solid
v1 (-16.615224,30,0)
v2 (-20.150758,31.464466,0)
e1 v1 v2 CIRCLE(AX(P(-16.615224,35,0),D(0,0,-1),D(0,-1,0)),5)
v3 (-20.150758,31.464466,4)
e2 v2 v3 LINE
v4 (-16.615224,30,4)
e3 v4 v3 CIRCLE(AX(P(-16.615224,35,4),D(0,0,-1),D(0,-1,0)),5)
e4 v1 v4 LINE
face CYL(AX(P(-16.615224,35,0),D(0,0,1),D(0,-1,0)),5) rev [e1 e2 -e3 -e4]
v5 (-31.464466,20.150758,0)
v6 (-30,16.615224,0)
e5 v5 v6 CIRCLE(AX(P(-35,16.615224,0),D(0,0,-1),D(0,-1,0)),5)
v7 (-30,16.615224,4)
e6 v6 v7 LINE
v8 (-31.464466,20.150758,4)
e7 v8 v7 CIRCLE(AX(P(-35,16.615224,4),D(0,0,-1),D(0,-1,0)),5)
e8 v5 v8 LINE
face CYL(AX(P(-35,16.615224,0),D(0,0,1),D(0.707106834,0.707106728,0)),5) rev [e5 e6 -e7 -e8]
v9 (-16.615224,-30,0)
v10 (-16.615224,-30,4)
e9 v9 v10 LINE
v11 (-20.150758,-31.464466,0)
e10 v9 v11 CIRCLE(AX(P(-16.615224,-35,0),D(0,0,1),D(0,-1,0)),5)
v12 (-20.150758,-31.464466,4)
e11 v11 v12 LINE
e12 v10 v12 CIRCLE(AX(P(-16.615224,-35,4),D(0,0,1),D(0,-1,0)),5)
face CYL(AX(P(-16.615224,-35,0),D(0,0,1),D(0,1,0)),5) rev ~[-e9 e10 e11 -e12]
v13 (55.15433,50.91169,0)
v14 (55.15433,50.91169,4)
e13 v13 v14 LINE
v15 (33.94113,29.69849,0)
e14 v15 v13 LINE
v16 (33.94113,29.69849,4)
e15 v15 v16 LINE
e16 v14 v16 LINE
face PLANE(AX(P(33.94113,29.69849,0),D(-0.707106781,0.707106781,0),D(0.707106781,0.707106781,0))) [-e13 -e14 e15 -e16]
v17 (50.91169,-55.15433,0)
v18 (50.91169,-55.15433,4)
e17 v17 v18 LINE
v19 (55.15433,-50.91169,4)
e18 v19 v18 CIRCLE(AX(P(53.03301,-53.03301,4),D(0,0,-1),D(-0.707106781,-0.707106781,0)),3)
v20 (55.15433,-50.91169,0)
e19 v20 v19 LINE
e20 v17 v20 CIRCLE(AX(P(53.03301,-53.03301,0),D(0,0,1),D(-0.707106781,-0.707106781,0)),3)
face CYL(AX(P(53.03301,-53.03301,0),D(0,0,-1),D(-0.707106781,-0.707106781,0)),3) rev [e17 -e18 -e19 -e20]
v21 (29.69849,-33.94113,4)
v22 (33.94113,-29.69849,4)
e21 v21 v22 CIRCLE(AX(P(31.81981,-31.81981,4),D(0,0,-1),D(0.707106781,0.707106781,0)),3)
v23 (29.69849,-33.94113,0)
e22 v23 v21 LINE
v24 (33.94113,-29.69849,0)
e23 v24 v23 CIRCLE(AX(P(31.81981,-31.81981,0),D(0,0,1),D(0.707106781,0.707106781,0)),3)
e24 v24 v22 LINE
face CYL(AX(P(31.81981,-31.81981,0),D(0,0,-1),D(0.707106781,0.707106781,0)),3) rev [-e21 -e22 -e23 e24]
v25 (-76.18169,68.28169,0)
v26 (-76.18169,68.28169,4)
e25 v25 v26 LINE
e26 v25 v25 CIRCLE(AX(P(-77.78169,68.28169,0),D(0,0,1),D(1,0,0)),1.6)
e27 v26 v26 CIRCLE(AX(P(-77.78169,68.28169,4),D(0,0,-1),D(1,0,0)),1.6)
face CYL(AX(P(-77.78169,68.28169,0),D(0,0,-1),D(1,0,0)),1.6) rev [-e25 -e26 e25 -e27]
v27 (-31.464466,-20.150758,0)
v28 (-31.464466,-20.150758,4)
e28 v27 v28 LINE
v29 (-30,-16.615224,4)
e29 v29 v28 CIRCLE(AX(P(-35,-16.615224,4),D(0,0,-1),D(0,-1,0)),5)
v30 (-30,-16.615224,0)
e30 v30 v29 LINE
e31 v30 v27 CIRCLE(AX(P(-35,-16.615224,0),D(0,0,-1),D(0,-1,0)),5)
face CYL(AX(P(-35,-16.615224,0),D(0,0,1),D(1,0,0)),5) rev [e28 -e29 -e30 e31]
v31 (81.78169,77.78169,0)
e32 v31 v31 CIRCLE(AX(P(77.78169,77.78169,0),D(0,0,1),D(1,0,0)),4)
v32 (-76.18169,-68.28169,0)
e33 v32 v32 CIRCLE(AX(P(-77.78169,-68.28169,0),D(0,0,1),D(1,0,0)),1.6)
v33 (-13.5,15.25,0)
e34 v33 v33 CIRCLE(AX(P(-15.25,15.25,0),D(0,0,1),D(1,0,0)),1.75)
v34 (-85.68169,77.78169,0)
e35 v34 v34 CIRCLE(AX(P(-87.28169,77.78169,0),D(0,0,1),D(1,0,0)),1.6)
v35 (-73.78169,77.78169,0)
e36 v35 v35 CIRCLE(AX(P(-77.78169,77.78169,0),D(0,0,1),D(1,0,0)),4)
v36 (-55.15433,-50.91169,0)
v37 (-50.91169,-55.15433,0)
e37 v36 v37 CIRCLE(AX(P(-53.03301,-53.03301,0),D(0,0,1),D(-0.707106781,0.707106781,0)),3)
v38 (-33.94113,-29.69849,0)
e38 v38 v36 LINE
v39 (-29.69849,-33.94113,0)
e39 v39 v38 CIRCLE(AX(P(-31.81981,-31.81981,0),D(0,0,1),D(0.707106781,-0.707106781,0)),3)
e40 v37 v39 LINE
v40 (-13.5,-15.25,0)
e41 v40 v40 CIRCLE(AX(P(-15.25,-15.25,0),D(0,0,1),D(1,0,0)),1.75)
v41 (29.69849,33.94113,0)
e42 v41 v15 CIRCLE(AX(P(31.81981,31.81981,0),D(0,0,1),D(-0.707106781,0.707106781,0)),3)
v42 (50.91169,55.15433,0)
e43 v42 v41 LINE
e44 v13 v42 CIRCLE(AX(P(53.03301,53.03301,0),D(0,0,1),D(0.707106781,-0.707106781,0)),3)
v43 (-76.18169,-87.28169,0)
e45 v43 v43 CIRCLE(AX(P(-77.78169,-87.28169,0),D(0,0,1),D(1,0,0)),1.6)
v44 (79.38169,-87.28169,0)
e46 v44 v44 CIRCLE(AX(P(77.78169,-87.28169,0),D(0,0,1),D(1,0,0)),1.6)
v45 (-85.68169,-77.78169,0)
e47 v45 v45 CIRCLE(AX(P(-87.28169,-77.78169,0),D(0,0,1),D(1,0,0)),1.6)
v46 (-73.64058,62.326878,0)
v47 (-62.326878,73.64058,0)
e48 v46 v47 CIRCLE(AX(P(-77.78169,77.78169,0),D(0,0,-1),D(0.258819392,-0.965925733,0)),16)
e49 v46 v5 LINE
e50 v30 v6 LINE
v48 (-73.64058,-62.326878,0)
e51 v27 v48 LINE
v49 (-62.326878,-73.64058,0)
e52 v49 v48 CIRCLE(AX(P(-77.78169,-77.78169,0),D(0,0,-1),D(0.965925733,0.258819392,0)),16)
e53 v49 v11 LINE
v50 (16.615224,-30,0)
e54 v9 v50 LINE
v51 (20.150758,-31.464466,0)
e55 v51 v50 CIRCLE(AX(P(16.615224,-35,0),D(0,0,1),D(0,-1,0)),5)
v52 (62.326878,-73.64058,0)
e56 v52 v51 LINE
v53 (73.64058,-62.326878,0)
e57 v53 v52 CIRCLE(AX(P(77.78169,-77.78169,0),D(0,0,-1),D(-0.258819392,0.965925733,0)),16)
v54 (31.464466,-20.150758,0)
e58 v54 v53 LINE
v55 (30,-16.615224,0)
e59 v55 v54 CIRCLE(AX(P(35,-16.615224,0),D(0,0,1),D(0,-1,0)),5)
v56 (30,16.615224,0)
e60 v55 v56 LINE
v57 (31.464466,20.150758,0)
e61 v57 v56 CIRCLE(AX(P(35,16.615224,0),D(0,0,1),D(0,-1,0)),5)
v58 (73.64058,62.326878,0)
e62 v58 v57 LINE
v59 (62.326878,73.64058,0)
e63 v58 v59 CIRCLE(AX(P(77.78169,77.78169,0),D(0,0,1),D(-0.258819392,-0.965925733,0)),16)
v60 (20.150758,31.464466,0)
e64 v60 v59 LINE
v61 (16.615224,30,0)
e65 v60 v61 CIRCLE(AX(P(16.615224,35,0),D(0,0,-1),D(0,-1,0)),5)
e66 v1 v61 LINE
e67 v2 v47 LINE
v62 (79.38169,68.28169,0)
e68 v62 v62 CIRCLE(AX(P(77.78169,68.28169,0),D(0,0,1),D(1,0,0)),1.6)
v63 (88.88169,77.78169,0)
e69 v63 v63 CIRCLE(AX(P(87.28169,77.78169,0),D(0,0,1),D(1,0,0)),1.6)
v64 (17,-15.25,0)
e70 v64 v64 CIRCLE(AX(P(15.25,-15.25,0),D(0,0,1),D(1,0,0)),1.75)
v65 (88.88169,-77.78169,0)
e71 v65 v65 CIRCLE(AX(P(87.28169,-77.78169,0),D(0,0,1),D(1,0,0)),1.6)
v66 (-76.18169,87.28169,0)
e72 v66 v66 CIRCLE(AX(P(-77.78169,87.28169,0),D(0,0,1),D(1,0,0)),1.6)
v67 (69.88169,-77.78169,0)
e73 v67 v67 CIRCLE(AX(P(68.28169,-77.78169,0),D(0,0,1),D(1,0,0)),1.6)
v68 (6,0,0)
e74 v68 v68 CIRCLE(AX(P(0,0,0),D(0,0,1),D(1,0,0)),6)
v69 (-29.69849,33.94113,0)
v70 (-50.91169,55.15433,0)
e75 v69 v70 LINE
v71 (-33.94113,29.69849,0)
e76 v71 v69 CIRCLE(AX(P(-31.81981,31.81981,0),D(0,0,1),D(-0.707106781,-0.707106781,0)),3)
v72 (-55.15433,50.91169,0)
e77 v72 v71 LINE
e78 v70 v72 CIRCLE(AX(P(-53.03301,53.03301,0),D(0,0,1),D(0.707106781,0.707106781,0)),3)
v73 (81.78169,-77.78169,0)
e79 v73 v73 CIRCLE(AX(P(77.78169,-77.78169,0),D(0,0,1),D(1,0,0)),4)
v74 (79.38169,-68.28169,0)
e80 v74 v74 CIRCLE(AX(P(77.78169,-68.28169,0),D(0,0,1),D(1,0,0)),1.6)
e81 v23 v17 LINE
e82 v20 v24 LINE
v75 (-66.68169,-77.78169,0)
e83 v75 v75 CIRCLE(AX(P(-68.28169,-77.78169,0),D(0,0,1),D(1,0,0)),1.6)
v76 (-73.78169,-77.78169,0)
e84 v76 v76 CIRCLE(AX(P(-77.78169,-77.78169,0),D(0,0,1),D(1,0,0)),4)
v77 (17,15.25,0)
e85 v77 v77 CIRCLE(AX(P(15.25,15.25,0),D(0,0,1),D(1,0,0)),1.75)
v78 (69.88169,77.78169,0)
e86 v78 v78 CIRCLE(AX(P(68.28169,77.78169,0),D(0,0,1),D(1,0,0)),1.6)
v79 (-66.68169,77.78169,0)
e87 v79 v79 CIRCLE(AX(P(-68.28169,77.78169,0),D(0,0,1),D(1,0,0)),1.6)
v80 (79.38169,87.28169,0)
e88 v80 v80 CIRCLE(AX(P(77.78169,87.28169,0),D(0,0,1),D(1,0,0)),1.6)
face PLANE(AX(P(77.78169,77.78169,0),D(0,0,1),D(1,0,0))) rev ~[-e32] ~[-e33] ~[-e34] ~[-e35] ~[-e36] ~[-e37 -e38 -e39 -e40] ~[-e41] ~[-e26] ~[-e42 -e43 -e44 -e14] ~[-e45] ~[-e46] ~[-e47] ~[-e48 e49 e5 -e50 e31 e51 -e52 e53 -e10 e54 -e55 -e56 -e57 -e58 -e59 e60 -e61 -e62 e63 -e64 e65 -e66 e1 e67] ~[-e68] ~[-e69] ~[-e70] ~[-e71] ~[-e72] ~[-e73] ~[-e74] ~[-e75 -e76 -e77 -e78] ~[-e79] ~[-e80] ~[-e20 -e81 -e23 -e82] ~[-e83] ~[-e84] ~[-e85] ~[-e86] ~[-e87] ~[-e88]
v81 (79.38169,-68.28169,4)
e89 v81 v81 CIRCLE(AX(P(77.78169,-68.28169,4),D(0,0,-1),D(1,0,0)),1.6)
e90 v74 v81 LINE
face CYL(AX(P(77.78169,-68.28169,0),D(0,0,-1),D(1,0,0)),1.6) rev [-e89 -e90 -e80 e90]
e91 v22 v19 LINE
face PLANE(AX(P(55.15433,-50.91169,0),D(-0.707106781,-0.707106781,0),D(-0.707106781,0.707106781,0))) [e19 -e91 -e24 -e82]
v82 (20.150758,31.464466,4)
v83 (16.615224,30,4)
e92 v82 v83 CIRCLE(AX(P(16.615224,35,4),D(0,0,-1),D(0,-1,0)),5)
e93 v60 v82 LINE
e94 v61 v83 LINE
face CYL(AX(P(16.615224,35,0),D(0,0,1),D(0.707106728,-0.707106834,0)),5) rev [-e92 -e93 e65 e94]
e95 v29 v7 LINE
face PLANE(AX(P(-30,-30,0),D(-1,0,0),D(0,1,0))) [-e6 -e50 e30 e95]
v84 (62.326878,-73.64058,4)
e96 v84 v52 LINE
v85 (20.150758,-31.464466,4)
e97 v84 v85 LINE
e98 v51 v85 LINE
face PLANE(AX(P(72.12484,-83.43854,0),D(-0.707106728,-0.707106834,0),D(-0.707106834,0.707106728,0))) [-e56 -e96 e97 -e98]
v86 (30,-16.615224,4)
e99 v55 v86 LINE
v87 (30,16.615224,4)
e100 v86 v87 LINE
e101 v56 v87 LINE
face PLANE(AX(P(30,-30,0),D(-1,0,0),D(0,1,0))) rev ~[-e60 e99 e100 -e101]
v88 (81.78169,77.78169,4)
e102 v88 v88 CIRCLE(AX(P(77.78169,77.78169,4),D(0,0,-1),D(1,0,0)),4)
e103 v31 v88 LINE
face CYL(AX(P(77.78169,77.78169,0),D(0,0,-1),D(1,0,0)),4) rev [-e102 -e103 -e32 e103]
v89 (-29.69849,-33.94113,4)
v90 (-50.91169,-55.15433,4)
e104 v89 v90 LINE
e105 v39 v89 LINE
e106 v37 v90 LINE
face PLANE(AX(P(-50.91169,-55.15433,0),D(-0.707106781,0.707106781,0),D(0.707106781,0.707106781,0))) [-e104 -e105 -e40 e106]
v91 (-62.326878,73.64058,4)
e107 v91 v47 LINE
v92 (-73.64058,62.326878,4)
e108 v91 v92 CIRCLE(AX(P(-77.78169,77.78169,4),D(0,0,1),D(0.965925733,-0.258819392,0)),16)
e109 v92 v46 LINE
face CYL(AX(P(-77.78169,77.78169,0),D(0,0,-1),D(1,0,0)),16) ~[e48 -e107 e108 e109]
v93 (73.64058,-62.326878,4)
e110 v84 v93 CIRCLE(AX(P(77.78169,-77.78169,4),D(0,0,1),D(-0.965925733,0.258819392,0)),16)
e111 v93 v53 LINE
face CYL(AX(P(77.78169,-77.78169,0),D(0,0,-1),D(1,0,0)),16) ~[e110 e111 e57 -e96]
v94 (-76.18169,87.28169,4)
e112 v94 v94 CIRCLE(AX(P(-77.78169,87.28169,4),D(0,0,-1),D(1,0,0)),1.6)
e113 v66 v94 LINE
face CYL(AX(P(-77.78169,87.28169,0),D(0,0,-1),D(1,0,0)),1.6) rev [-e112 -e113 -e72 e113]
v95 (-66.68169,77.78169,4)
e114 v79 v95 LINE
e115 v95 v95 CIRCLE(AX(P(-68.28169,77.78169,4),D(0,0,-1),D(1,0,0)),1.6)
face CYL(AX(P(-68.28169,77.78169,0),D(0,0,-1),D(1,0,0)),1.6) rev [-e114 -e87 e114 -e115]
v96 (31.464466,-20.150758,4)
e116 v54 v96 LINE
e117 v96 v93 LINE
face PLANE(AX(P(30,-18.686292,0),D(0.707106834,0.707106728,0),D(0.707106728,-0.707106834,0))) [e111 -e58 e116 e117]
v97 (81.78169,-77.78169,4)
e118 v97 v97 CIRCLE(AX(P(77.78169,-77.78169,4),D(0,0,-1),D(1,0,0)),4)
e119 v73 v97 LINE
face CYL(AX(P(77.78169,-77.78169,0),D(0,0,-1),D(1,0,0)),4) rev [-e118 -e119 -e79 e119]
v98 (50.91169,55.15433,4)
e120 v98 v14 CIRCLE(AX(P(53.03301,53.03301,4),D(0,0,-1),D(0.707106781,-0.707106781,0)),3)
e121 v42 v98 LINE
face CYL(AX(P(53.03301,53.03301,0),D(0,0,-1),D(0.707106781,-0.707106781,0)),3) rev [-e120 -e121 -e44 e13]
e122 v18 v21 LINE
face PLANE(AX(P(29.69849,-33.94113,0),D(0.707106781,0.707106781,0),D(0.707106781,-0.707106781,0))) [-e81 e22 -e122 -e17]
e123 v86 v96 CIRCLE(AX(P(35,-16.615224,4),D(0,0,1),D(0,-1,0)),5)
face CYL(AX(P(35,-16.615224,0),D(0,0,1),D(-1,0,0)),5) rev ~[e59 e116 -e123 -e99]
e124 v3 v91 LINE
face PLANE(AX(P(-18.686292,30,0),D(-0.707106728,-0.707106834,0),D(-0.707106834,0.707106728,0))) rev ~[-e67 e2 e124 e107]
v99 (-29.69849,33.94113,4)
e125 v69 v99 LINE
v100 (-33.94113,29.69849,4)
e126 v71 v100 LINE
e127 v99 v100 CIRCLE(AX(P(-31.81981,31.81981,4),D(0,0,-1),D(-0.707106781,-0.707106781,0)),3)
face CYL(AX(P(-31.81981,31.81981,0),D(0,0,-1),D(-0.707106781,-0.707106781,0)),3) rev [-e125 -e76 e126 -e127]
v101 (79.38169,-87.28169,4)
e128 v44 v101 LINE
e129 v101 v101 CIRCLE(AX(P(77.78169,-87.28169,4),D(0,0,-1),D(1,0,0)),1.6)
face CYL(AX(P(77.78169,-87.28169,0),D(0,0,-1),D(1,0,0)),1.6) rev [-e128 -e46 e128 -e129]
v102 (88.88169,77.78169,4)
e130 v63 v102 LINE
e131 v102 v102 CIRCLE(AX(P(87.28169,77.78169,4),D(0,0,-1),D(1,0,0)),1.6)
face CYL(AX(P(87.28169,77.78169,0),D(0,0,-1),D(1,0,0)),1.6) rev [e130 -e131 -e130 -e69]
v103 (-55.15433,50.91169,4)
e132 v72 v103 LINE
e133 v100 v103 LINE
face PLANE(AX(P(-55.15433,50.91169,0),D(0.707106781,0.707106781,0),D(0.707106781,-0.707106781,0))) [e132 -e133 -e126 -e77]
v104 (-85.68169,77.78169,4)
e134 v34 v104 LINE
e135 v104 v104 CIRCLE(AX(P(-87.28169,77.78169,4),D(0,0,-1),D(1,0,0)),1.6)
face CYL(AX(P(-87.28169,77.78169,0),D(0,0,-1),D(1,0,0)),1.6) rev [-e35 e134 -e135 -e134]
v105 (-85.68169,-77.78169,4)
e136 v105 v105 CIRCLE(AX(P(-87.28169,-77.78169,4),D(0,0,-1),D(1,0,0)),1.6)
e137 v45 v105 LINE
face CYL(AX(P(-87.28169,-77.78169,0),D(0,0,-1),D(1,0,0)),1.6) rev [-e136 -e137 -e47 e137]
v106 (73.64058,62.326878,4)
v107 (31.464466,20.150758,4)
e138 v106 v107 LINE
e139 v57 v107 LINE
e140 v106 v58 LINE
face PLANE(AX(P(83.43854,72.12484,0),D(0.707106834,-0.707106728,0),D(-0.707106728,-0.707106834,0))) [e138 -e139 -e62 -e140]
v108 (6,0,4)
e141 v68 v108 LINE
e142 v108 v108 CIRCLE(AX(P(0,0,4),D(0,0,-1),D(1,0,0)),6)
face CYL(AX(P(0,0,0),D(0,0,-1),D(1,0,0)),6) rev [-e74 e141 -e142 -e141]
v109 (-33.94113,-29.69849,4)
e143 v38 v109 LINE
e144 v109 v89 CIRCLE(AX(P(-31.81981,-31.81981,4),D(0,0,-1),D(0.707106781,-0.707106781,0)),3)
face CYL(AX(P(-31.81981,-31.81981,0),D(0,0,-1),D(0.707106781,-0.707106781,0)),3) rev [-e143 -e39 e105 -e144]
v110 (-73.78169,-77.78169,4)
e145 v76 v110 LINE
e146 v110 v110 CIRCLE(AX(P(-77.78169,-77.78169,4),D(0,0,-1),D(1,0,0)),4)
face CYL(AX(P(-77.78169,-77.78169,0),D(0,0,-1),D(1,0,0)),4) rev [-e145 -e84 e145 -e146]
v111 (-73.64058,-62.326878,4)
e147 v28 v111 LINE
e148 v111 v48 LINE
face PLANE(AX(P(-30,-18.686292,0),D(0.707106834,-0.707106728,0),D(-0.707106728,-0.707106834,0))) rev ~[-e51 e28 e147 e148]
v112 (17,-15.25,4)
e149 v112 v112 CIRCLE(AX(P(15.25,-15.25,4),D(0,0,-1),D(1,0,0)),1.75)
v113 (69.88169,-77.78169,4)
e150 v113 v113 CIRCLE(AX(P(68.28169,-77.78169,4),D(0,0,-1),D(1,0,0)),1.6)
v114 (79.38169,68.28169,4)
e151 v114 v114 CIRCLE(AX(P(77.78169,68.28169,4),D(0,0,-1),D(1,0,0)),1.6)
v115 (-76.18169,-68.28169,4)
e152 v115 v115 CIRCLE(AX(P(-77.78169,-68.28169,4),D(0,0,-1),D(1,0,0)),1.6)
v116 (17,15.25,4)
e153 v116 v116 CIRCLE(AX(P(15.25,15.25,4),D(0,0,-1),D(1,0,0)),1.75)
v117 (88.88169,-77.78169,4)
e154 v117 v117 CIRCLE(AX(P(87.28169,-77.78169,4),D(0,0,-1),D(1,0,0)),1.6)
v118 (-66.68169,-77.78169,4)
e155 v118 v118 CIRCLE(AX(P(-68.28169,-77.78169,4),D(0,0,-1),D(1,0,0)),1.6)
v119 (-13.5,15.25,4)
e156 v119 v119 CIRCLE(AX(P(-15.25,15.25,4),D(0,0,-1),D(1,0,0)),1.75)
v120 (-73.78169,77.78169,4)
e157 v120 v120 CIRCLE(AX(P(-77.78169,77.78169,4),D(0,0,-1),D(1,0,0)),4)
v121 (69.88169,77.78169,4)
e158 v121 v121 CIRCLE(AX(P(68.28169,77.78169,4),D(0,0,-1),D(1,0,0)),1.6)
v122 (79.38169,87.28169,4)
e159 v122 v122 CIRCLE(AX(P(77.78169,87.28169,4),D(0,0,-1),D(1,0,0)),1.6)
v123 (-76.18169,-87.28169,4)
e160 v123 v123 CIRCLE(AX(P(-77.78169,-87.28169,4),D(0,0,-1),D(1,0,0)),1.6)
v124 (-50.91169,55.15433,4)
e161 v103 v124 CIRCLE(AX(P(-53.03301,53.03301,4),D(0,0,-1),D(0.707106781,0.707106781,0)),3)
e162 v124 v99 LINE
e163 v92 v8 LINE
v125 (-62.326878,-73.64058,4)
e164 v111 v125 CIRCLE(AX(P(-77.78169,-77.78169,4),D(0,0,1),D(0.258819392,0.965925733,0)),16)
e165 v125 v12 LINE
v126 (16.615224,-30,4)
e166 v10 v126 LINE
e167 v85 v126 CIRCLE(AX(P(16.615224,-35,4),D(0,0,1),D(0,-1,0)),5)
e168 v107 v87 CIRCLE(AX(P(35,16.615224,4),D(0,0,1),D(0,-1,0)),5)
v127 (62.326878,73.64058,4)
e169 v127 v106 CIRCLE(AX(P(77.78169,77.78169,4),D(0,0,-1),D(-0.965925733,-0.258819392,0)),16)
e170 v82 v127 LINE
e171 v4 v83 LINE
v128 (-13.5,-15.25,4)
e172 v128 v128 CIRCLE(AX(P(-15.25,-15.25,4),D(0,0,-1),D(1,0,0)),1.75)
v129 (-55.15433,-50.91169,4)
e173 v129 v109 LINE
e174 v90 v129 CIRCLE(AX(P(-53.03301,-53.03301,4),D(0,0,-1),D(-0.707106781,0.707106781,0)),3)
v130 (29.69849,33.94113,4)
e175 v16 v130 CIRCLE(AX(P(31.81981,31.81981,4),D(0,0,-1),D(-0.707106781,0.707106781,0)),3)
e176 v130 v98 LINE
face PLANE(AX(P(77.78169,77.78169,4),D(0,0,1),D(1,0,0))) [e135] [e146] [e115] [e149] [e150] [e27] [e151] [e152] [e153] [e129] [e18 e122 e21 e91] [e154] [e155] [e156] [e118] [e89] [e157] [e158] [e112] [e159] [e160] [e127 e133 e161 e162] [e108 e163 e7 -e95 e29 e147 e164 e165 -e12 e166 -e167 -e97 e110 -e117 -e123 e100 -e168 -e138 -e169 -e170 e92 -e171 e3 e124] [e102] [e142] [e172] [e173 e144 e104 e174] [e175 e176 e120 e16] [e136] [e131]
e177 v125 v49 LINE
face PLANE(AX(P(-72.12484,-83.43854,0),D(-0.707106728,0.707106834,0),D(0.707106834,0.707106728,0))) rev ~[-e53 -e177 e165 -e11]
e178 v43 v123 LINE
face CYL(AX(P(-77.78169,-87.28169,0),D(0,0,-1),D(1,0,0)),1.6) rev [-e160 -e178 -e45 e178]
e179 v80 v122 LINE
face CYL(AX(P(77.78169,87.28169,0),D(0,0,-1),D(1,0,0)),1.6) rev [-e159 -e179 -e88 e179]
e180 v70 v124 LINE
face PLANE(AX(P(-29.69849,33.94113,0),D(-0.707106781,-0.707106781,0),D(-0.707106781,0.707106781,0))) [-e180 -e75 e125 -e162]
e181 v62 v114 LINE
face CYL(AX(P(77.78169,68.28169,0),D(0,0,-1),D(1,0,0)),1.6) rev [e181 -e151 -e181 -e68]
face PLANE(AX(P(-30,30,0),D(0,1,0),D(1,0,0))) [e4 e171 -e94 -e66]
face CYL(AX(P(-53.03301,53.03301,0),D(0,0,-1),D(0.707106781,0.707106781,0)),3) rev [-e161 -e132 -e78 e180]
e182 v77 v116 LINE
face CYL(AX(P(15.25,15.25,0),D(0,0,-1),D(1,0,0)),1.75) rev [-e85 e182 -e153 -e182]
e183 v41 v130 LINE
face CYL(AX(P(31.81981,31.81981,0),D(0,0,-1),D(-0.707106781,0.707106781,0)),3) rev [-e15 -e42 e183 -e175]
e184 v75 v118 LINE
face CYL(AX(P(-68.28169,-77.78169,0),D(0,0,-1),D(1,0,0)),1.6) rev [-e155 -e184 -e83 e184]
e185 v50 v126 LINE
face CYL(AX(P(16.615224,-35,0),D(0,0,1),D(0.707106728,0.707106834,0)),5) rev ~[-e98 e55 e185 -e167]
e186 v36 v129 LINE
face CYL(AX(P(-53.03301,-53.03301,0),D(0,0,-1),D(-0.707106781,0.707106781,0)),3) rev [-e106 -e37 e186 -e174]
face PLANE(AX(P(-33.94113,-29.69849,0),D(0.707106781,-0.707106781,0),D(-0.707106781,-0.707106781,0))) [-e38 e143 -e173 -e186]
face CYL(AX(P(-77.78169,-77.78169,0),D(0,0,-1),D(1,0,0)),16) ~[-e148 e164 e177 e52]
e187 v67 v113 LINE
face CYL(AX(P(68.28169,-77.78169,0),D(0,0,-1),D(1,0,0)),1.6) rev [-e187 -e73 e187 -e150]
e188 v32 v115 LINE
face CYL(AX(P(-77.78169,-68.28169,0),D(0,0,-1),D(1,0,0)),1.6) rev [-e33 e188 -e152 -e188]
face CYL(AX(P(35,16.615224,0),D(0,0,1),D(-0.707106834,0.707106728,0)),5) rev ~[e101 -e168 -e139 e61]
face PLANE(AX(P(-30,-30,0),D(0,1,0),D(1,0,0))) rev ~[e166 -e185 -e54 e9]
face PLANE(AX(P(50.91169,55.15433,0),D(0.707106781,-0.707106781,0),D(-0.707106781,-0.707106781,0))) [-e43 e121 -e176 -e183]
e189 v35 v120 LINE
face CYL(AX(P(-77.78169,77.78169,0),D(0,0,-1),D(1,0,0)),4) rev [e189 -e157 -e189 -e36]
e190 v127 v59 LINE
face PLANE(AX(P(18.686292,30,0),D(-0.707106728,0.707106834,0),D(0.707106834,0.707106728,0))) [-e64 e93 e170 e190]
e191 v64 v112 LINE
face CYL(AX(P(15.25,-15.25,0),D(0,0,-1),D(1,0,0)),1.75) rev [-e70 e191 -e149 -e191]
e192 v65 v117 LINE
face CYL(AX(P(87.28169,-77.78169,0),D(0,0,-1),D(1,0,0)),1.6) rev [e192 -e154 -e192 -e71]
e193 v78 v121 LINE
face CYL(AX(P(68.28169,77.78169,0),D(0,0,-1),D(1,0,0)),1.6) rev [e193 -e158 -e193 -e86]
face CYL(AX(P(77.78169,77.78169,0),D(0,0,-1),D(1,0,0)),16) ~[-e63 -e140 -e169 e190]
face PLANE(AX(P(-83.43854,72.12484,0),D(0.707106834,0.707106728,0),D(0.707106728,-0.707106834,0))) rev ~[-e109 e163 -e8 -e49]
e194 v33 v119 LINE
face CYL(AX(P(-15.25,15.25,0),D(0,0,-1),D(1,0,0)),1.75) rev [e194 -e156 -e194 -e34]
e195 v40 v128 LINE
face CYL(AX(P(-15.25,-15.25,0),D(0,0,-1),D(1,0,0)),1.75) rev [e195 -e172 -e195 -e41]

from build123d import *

# Parameters (mm, degrees)
SKETCH_1_W          = 60
SKETCH_1_H          = 60
EXTRUDE_1_DEPTH     = 4
EXTRUDE_2_DEPTH     = 4
SKETCH_3_R          = 16
EXTRUDE_3_DEPTH     = 4
SKETCH_4_R          = 6
CUT_EXTRUDE_1_DEPTH = 133.687643579
SKETCH_5_R          = 1.75
CUT_EXTRUDE_2_DEPTH = 133.687643579
SKETCH_6_R          = 4
CUT_EXTRUDE_3_DEPTH = 133.687643579
SKETCH_7_R          = 1.6
CUT_EXTRUDE_4_DEPTH = 133.687643579
CUT_EXTRUDE_5_DEPTH = 133.687643579
FILLET_1_R          = 5


with BuildPart() as part:
    # 草图1 → 凸台-拉伸1 (new body)
    with BuildSketch(Plane.XY):
        Rectangle(SKETCH_1_W, SKETCH_1_H)
    extrude(amount=EXTRUDE_1_DEPTH)

    # 草图2 → 凸台-拉伸2 (add)
    with BuildSketch(Plane.XY):
        Polygon((18.686292, 30), (72.12484, 83.43854), (83.43854, 72.12484), (30, 18.686292), align=None)
        Polygon((-18.686292, 30), (-72.12484, 83.43854), (-83.43854, 72.12484), (-30, 18.686292), align=None)
        Polygon((-30, -18.686292), (-83.43854, -72.12484), (-72.12484, -83.43854), (-18.686292, -30), align=None)
        Polygon((30, -18.686292), (83.43854, -72.12484), (72.12484, -83.43854), (18.686292, -30), align=None)
    extrude(amount=EXTRUDE_2_DEPTH)

    # 草图3 → 凸台-拉伸3 (add)
    with BuildSketch(Plane.XY):
        with Locations((77.78169, 77.78169)):
            Circle(SKETCH_3_R)
        with Locations((-77.78169, 77.78169)):
            Circle(SKETCH_3_R)
        with Locations((-77.78169, -77.78169)):
            Circle(SKETCH_3_R)
        with Locations((77.78169, -77.78169)):
            Circle(SKETCH_3_R)
    extrude(amount=EXTRUDE_3_DEPTH)

    # 草图4 → 切除-拉伸1 (cut, through all)
    with BuildSketch(Plane.XY):
        Circle(SKETCH_4_R)
    extrude(amount=CUT_EXTRUDE_1_DEPTH, mode=Mode.SUBTRACT)

    # 草图5 → 切除-拉伸2 (cut, through all)
    with BuildSketch(Plane.XY):
        with Locations((15.25, 15.25)):
            Circle(SKETCH_5_R)
        with Locations((-15.25, 15.25)):
            Circle(SKETCH_5_R)
        with Locations((-15.25, -15.25)):
            Circle(SKETCH_5_R)
        with Locations((15.25, -15.25)):
            Circle(SKETCH_5_R)
    extrude(amount=CUT_EXTRUDE_2_DEPTH, mode=Mode.SUBTRACT)

    # 草图6 → 切除-拉伸3 (cut, through all)
    with BuildSketch(Plane.XY):
        with Locations((77.78169, 77.78169)):
            Circle(SKETCH_6_R)
        with Locations((-77.78169, 77.78169)):
            Circle(SKETCH_6_R)
        with Locations((-77.78169, -77.78169)):
            Circle(SKETCH_6_R)
        with Locations((77.78169, -77.78169)):
            Circle(SKETCH_6_R)
    extrude(amount=CUT_EXTRUDE_3_DEPTH, mode=Mode.SUBTRACT)

    # 草图7 → 切除-拉伸4 (cut, through all)
    with BuildSketch(Plane.XY):
        with Locations((87.28169, 77.78169)):
            Circle(SKETCH_7_R)
        with Locations((68.28169, 77.78169)):
            Circle(SKETCH_7_R)
        with Locations((77.78169, 87.28169)):
            Circle(SKETCH_7_R)
        with Locations((77.78169, 68.28169)):
            Circle(SKETCH_7_R)
        with Locations((-87.28169, 77.78169)):
            Circle(SKETCH_7_R)
        with Locations((-68.28169, 77.78169)):
            Circle(SKETCH_7_R)
        with Locations((-77.78169, 87.28169)):
            Circle(SKETCH_7_R)
        with Locations((-77.78169, 68.28169)):
            Circle(SKETCH_7_R)
        with Locations((-87.28169, -77.78169)):
            Circle(SKETCH_7_R)
        with Locations((-68.28169, -77.78169)):
            Circle(SKETCH_7_R)
        with Locations((-77.78169, -87.28169)):
            Circle(SKETCH_7_R)
        with Locations((-77.78169, -68.28169)):
            Circle(SKETCH_7_R)
        with Locations((87.28169, -77.78169)):
            Circle(SKETCH_7_R)
        with Locations((68.28169, -77.78169)):
            Circle(SKETCH_7_R)
        with Locations((77.78169, -87.28169)):
            Circle(SKETCH_7_R)
        with Locations((77.78169, -68.28169)):
            Circle(SKETCH_7_R)
    extrude(amount=CUT_EXTRUDE_4_DEPTH, mode=Mode.SUBTRACT)

    # 草图8 → 切除-拉伸5 (cut, through all)
    with BuildSketch(Plane.XY):
        with BuildLine():
            Line((33.941130344, 29.698489656), (55.154330344, 50.911689656))
            ThreePointArc((55.154330344, 50.911689656), (55.154330344, 55.154330344), (50.911689656, 55.154330344))
            Line((50.911689656, 55.154330344), (29.698489656, 33.941130344))
            ThreePointArc((29.698489656, 33.941130344), (29.698489656, 29.698489656), (33.941130344, 29.698489656))
        make_face()
        with BuildLine():
            Line((-29.698489656, 33.941130344), (-50.911689656, 55.154330344))
            ThreePointArc((-50.911689656, 55.154330344), (-55.154330344, 55.154330344), (-55.154330344, 50.911689656))
            Line((-55.154330344, 50.911689656), (-33.941130344, 29.698489656))
            ThreePointArc((-33.941130344, 29.698489656), (-29.698489656, 29.698489656), (-29.698489656, 33.941130344))
        make_face()
        with BuildLine():
            Line((-33.941130344, -29.698489656), (-55.154330344, -50.911689656))
            ThreePointArc((-55.154330344, -50.911689656), (-55.154330344, -55.154330344), (-50.911689656, -55.154330344))
            Line((-50.911689656, -55.154330344), (-29.698489656, -33.941130344))
            ThreePointArc((-29.698489656, -33.941130344), (-29.698489656, -29.698489656), (-33.941130344, -29.698489656))
        make_face()
        with BuildLine():
            Line((29.698489656, -33.941130344), (50.911689656, -55.154330344))
            ThreePointArc((50.911689656, -55.154330344), (55.154330344, -55.154330344), (55.154330344, -50.911689656))
            Line((55.154330344, -50.911689656), (33.941130344, -29.698489656))
            ThreePointArc((33.941130344, -29.698489656), (29.698489656, -29.698489656), (29.698489656, -33.941130344))
        make_face()
    extrude(amount=CUT_EXTRUDE_5_DEPTH, mode=Mode.SUBTRACT)

    # 圆角1
    fillet_1_edges = [part.edges().sort_by_distance(p)[0] for p in [
        (30, -18.686292, 2),
        (18.686292, -30, 2),
        (-18.686292, -30, 2),
        (-30, -18.686292, 2),
        (-30, 18.686292, 2),
        (-18.686292, 30, 2),
        (18.686292, 30, 2),
        (30, 18.686292, 2),
    ]]
    fillet(fillet_1_edges, radius=FILLET_1_R)


solid = part.part
